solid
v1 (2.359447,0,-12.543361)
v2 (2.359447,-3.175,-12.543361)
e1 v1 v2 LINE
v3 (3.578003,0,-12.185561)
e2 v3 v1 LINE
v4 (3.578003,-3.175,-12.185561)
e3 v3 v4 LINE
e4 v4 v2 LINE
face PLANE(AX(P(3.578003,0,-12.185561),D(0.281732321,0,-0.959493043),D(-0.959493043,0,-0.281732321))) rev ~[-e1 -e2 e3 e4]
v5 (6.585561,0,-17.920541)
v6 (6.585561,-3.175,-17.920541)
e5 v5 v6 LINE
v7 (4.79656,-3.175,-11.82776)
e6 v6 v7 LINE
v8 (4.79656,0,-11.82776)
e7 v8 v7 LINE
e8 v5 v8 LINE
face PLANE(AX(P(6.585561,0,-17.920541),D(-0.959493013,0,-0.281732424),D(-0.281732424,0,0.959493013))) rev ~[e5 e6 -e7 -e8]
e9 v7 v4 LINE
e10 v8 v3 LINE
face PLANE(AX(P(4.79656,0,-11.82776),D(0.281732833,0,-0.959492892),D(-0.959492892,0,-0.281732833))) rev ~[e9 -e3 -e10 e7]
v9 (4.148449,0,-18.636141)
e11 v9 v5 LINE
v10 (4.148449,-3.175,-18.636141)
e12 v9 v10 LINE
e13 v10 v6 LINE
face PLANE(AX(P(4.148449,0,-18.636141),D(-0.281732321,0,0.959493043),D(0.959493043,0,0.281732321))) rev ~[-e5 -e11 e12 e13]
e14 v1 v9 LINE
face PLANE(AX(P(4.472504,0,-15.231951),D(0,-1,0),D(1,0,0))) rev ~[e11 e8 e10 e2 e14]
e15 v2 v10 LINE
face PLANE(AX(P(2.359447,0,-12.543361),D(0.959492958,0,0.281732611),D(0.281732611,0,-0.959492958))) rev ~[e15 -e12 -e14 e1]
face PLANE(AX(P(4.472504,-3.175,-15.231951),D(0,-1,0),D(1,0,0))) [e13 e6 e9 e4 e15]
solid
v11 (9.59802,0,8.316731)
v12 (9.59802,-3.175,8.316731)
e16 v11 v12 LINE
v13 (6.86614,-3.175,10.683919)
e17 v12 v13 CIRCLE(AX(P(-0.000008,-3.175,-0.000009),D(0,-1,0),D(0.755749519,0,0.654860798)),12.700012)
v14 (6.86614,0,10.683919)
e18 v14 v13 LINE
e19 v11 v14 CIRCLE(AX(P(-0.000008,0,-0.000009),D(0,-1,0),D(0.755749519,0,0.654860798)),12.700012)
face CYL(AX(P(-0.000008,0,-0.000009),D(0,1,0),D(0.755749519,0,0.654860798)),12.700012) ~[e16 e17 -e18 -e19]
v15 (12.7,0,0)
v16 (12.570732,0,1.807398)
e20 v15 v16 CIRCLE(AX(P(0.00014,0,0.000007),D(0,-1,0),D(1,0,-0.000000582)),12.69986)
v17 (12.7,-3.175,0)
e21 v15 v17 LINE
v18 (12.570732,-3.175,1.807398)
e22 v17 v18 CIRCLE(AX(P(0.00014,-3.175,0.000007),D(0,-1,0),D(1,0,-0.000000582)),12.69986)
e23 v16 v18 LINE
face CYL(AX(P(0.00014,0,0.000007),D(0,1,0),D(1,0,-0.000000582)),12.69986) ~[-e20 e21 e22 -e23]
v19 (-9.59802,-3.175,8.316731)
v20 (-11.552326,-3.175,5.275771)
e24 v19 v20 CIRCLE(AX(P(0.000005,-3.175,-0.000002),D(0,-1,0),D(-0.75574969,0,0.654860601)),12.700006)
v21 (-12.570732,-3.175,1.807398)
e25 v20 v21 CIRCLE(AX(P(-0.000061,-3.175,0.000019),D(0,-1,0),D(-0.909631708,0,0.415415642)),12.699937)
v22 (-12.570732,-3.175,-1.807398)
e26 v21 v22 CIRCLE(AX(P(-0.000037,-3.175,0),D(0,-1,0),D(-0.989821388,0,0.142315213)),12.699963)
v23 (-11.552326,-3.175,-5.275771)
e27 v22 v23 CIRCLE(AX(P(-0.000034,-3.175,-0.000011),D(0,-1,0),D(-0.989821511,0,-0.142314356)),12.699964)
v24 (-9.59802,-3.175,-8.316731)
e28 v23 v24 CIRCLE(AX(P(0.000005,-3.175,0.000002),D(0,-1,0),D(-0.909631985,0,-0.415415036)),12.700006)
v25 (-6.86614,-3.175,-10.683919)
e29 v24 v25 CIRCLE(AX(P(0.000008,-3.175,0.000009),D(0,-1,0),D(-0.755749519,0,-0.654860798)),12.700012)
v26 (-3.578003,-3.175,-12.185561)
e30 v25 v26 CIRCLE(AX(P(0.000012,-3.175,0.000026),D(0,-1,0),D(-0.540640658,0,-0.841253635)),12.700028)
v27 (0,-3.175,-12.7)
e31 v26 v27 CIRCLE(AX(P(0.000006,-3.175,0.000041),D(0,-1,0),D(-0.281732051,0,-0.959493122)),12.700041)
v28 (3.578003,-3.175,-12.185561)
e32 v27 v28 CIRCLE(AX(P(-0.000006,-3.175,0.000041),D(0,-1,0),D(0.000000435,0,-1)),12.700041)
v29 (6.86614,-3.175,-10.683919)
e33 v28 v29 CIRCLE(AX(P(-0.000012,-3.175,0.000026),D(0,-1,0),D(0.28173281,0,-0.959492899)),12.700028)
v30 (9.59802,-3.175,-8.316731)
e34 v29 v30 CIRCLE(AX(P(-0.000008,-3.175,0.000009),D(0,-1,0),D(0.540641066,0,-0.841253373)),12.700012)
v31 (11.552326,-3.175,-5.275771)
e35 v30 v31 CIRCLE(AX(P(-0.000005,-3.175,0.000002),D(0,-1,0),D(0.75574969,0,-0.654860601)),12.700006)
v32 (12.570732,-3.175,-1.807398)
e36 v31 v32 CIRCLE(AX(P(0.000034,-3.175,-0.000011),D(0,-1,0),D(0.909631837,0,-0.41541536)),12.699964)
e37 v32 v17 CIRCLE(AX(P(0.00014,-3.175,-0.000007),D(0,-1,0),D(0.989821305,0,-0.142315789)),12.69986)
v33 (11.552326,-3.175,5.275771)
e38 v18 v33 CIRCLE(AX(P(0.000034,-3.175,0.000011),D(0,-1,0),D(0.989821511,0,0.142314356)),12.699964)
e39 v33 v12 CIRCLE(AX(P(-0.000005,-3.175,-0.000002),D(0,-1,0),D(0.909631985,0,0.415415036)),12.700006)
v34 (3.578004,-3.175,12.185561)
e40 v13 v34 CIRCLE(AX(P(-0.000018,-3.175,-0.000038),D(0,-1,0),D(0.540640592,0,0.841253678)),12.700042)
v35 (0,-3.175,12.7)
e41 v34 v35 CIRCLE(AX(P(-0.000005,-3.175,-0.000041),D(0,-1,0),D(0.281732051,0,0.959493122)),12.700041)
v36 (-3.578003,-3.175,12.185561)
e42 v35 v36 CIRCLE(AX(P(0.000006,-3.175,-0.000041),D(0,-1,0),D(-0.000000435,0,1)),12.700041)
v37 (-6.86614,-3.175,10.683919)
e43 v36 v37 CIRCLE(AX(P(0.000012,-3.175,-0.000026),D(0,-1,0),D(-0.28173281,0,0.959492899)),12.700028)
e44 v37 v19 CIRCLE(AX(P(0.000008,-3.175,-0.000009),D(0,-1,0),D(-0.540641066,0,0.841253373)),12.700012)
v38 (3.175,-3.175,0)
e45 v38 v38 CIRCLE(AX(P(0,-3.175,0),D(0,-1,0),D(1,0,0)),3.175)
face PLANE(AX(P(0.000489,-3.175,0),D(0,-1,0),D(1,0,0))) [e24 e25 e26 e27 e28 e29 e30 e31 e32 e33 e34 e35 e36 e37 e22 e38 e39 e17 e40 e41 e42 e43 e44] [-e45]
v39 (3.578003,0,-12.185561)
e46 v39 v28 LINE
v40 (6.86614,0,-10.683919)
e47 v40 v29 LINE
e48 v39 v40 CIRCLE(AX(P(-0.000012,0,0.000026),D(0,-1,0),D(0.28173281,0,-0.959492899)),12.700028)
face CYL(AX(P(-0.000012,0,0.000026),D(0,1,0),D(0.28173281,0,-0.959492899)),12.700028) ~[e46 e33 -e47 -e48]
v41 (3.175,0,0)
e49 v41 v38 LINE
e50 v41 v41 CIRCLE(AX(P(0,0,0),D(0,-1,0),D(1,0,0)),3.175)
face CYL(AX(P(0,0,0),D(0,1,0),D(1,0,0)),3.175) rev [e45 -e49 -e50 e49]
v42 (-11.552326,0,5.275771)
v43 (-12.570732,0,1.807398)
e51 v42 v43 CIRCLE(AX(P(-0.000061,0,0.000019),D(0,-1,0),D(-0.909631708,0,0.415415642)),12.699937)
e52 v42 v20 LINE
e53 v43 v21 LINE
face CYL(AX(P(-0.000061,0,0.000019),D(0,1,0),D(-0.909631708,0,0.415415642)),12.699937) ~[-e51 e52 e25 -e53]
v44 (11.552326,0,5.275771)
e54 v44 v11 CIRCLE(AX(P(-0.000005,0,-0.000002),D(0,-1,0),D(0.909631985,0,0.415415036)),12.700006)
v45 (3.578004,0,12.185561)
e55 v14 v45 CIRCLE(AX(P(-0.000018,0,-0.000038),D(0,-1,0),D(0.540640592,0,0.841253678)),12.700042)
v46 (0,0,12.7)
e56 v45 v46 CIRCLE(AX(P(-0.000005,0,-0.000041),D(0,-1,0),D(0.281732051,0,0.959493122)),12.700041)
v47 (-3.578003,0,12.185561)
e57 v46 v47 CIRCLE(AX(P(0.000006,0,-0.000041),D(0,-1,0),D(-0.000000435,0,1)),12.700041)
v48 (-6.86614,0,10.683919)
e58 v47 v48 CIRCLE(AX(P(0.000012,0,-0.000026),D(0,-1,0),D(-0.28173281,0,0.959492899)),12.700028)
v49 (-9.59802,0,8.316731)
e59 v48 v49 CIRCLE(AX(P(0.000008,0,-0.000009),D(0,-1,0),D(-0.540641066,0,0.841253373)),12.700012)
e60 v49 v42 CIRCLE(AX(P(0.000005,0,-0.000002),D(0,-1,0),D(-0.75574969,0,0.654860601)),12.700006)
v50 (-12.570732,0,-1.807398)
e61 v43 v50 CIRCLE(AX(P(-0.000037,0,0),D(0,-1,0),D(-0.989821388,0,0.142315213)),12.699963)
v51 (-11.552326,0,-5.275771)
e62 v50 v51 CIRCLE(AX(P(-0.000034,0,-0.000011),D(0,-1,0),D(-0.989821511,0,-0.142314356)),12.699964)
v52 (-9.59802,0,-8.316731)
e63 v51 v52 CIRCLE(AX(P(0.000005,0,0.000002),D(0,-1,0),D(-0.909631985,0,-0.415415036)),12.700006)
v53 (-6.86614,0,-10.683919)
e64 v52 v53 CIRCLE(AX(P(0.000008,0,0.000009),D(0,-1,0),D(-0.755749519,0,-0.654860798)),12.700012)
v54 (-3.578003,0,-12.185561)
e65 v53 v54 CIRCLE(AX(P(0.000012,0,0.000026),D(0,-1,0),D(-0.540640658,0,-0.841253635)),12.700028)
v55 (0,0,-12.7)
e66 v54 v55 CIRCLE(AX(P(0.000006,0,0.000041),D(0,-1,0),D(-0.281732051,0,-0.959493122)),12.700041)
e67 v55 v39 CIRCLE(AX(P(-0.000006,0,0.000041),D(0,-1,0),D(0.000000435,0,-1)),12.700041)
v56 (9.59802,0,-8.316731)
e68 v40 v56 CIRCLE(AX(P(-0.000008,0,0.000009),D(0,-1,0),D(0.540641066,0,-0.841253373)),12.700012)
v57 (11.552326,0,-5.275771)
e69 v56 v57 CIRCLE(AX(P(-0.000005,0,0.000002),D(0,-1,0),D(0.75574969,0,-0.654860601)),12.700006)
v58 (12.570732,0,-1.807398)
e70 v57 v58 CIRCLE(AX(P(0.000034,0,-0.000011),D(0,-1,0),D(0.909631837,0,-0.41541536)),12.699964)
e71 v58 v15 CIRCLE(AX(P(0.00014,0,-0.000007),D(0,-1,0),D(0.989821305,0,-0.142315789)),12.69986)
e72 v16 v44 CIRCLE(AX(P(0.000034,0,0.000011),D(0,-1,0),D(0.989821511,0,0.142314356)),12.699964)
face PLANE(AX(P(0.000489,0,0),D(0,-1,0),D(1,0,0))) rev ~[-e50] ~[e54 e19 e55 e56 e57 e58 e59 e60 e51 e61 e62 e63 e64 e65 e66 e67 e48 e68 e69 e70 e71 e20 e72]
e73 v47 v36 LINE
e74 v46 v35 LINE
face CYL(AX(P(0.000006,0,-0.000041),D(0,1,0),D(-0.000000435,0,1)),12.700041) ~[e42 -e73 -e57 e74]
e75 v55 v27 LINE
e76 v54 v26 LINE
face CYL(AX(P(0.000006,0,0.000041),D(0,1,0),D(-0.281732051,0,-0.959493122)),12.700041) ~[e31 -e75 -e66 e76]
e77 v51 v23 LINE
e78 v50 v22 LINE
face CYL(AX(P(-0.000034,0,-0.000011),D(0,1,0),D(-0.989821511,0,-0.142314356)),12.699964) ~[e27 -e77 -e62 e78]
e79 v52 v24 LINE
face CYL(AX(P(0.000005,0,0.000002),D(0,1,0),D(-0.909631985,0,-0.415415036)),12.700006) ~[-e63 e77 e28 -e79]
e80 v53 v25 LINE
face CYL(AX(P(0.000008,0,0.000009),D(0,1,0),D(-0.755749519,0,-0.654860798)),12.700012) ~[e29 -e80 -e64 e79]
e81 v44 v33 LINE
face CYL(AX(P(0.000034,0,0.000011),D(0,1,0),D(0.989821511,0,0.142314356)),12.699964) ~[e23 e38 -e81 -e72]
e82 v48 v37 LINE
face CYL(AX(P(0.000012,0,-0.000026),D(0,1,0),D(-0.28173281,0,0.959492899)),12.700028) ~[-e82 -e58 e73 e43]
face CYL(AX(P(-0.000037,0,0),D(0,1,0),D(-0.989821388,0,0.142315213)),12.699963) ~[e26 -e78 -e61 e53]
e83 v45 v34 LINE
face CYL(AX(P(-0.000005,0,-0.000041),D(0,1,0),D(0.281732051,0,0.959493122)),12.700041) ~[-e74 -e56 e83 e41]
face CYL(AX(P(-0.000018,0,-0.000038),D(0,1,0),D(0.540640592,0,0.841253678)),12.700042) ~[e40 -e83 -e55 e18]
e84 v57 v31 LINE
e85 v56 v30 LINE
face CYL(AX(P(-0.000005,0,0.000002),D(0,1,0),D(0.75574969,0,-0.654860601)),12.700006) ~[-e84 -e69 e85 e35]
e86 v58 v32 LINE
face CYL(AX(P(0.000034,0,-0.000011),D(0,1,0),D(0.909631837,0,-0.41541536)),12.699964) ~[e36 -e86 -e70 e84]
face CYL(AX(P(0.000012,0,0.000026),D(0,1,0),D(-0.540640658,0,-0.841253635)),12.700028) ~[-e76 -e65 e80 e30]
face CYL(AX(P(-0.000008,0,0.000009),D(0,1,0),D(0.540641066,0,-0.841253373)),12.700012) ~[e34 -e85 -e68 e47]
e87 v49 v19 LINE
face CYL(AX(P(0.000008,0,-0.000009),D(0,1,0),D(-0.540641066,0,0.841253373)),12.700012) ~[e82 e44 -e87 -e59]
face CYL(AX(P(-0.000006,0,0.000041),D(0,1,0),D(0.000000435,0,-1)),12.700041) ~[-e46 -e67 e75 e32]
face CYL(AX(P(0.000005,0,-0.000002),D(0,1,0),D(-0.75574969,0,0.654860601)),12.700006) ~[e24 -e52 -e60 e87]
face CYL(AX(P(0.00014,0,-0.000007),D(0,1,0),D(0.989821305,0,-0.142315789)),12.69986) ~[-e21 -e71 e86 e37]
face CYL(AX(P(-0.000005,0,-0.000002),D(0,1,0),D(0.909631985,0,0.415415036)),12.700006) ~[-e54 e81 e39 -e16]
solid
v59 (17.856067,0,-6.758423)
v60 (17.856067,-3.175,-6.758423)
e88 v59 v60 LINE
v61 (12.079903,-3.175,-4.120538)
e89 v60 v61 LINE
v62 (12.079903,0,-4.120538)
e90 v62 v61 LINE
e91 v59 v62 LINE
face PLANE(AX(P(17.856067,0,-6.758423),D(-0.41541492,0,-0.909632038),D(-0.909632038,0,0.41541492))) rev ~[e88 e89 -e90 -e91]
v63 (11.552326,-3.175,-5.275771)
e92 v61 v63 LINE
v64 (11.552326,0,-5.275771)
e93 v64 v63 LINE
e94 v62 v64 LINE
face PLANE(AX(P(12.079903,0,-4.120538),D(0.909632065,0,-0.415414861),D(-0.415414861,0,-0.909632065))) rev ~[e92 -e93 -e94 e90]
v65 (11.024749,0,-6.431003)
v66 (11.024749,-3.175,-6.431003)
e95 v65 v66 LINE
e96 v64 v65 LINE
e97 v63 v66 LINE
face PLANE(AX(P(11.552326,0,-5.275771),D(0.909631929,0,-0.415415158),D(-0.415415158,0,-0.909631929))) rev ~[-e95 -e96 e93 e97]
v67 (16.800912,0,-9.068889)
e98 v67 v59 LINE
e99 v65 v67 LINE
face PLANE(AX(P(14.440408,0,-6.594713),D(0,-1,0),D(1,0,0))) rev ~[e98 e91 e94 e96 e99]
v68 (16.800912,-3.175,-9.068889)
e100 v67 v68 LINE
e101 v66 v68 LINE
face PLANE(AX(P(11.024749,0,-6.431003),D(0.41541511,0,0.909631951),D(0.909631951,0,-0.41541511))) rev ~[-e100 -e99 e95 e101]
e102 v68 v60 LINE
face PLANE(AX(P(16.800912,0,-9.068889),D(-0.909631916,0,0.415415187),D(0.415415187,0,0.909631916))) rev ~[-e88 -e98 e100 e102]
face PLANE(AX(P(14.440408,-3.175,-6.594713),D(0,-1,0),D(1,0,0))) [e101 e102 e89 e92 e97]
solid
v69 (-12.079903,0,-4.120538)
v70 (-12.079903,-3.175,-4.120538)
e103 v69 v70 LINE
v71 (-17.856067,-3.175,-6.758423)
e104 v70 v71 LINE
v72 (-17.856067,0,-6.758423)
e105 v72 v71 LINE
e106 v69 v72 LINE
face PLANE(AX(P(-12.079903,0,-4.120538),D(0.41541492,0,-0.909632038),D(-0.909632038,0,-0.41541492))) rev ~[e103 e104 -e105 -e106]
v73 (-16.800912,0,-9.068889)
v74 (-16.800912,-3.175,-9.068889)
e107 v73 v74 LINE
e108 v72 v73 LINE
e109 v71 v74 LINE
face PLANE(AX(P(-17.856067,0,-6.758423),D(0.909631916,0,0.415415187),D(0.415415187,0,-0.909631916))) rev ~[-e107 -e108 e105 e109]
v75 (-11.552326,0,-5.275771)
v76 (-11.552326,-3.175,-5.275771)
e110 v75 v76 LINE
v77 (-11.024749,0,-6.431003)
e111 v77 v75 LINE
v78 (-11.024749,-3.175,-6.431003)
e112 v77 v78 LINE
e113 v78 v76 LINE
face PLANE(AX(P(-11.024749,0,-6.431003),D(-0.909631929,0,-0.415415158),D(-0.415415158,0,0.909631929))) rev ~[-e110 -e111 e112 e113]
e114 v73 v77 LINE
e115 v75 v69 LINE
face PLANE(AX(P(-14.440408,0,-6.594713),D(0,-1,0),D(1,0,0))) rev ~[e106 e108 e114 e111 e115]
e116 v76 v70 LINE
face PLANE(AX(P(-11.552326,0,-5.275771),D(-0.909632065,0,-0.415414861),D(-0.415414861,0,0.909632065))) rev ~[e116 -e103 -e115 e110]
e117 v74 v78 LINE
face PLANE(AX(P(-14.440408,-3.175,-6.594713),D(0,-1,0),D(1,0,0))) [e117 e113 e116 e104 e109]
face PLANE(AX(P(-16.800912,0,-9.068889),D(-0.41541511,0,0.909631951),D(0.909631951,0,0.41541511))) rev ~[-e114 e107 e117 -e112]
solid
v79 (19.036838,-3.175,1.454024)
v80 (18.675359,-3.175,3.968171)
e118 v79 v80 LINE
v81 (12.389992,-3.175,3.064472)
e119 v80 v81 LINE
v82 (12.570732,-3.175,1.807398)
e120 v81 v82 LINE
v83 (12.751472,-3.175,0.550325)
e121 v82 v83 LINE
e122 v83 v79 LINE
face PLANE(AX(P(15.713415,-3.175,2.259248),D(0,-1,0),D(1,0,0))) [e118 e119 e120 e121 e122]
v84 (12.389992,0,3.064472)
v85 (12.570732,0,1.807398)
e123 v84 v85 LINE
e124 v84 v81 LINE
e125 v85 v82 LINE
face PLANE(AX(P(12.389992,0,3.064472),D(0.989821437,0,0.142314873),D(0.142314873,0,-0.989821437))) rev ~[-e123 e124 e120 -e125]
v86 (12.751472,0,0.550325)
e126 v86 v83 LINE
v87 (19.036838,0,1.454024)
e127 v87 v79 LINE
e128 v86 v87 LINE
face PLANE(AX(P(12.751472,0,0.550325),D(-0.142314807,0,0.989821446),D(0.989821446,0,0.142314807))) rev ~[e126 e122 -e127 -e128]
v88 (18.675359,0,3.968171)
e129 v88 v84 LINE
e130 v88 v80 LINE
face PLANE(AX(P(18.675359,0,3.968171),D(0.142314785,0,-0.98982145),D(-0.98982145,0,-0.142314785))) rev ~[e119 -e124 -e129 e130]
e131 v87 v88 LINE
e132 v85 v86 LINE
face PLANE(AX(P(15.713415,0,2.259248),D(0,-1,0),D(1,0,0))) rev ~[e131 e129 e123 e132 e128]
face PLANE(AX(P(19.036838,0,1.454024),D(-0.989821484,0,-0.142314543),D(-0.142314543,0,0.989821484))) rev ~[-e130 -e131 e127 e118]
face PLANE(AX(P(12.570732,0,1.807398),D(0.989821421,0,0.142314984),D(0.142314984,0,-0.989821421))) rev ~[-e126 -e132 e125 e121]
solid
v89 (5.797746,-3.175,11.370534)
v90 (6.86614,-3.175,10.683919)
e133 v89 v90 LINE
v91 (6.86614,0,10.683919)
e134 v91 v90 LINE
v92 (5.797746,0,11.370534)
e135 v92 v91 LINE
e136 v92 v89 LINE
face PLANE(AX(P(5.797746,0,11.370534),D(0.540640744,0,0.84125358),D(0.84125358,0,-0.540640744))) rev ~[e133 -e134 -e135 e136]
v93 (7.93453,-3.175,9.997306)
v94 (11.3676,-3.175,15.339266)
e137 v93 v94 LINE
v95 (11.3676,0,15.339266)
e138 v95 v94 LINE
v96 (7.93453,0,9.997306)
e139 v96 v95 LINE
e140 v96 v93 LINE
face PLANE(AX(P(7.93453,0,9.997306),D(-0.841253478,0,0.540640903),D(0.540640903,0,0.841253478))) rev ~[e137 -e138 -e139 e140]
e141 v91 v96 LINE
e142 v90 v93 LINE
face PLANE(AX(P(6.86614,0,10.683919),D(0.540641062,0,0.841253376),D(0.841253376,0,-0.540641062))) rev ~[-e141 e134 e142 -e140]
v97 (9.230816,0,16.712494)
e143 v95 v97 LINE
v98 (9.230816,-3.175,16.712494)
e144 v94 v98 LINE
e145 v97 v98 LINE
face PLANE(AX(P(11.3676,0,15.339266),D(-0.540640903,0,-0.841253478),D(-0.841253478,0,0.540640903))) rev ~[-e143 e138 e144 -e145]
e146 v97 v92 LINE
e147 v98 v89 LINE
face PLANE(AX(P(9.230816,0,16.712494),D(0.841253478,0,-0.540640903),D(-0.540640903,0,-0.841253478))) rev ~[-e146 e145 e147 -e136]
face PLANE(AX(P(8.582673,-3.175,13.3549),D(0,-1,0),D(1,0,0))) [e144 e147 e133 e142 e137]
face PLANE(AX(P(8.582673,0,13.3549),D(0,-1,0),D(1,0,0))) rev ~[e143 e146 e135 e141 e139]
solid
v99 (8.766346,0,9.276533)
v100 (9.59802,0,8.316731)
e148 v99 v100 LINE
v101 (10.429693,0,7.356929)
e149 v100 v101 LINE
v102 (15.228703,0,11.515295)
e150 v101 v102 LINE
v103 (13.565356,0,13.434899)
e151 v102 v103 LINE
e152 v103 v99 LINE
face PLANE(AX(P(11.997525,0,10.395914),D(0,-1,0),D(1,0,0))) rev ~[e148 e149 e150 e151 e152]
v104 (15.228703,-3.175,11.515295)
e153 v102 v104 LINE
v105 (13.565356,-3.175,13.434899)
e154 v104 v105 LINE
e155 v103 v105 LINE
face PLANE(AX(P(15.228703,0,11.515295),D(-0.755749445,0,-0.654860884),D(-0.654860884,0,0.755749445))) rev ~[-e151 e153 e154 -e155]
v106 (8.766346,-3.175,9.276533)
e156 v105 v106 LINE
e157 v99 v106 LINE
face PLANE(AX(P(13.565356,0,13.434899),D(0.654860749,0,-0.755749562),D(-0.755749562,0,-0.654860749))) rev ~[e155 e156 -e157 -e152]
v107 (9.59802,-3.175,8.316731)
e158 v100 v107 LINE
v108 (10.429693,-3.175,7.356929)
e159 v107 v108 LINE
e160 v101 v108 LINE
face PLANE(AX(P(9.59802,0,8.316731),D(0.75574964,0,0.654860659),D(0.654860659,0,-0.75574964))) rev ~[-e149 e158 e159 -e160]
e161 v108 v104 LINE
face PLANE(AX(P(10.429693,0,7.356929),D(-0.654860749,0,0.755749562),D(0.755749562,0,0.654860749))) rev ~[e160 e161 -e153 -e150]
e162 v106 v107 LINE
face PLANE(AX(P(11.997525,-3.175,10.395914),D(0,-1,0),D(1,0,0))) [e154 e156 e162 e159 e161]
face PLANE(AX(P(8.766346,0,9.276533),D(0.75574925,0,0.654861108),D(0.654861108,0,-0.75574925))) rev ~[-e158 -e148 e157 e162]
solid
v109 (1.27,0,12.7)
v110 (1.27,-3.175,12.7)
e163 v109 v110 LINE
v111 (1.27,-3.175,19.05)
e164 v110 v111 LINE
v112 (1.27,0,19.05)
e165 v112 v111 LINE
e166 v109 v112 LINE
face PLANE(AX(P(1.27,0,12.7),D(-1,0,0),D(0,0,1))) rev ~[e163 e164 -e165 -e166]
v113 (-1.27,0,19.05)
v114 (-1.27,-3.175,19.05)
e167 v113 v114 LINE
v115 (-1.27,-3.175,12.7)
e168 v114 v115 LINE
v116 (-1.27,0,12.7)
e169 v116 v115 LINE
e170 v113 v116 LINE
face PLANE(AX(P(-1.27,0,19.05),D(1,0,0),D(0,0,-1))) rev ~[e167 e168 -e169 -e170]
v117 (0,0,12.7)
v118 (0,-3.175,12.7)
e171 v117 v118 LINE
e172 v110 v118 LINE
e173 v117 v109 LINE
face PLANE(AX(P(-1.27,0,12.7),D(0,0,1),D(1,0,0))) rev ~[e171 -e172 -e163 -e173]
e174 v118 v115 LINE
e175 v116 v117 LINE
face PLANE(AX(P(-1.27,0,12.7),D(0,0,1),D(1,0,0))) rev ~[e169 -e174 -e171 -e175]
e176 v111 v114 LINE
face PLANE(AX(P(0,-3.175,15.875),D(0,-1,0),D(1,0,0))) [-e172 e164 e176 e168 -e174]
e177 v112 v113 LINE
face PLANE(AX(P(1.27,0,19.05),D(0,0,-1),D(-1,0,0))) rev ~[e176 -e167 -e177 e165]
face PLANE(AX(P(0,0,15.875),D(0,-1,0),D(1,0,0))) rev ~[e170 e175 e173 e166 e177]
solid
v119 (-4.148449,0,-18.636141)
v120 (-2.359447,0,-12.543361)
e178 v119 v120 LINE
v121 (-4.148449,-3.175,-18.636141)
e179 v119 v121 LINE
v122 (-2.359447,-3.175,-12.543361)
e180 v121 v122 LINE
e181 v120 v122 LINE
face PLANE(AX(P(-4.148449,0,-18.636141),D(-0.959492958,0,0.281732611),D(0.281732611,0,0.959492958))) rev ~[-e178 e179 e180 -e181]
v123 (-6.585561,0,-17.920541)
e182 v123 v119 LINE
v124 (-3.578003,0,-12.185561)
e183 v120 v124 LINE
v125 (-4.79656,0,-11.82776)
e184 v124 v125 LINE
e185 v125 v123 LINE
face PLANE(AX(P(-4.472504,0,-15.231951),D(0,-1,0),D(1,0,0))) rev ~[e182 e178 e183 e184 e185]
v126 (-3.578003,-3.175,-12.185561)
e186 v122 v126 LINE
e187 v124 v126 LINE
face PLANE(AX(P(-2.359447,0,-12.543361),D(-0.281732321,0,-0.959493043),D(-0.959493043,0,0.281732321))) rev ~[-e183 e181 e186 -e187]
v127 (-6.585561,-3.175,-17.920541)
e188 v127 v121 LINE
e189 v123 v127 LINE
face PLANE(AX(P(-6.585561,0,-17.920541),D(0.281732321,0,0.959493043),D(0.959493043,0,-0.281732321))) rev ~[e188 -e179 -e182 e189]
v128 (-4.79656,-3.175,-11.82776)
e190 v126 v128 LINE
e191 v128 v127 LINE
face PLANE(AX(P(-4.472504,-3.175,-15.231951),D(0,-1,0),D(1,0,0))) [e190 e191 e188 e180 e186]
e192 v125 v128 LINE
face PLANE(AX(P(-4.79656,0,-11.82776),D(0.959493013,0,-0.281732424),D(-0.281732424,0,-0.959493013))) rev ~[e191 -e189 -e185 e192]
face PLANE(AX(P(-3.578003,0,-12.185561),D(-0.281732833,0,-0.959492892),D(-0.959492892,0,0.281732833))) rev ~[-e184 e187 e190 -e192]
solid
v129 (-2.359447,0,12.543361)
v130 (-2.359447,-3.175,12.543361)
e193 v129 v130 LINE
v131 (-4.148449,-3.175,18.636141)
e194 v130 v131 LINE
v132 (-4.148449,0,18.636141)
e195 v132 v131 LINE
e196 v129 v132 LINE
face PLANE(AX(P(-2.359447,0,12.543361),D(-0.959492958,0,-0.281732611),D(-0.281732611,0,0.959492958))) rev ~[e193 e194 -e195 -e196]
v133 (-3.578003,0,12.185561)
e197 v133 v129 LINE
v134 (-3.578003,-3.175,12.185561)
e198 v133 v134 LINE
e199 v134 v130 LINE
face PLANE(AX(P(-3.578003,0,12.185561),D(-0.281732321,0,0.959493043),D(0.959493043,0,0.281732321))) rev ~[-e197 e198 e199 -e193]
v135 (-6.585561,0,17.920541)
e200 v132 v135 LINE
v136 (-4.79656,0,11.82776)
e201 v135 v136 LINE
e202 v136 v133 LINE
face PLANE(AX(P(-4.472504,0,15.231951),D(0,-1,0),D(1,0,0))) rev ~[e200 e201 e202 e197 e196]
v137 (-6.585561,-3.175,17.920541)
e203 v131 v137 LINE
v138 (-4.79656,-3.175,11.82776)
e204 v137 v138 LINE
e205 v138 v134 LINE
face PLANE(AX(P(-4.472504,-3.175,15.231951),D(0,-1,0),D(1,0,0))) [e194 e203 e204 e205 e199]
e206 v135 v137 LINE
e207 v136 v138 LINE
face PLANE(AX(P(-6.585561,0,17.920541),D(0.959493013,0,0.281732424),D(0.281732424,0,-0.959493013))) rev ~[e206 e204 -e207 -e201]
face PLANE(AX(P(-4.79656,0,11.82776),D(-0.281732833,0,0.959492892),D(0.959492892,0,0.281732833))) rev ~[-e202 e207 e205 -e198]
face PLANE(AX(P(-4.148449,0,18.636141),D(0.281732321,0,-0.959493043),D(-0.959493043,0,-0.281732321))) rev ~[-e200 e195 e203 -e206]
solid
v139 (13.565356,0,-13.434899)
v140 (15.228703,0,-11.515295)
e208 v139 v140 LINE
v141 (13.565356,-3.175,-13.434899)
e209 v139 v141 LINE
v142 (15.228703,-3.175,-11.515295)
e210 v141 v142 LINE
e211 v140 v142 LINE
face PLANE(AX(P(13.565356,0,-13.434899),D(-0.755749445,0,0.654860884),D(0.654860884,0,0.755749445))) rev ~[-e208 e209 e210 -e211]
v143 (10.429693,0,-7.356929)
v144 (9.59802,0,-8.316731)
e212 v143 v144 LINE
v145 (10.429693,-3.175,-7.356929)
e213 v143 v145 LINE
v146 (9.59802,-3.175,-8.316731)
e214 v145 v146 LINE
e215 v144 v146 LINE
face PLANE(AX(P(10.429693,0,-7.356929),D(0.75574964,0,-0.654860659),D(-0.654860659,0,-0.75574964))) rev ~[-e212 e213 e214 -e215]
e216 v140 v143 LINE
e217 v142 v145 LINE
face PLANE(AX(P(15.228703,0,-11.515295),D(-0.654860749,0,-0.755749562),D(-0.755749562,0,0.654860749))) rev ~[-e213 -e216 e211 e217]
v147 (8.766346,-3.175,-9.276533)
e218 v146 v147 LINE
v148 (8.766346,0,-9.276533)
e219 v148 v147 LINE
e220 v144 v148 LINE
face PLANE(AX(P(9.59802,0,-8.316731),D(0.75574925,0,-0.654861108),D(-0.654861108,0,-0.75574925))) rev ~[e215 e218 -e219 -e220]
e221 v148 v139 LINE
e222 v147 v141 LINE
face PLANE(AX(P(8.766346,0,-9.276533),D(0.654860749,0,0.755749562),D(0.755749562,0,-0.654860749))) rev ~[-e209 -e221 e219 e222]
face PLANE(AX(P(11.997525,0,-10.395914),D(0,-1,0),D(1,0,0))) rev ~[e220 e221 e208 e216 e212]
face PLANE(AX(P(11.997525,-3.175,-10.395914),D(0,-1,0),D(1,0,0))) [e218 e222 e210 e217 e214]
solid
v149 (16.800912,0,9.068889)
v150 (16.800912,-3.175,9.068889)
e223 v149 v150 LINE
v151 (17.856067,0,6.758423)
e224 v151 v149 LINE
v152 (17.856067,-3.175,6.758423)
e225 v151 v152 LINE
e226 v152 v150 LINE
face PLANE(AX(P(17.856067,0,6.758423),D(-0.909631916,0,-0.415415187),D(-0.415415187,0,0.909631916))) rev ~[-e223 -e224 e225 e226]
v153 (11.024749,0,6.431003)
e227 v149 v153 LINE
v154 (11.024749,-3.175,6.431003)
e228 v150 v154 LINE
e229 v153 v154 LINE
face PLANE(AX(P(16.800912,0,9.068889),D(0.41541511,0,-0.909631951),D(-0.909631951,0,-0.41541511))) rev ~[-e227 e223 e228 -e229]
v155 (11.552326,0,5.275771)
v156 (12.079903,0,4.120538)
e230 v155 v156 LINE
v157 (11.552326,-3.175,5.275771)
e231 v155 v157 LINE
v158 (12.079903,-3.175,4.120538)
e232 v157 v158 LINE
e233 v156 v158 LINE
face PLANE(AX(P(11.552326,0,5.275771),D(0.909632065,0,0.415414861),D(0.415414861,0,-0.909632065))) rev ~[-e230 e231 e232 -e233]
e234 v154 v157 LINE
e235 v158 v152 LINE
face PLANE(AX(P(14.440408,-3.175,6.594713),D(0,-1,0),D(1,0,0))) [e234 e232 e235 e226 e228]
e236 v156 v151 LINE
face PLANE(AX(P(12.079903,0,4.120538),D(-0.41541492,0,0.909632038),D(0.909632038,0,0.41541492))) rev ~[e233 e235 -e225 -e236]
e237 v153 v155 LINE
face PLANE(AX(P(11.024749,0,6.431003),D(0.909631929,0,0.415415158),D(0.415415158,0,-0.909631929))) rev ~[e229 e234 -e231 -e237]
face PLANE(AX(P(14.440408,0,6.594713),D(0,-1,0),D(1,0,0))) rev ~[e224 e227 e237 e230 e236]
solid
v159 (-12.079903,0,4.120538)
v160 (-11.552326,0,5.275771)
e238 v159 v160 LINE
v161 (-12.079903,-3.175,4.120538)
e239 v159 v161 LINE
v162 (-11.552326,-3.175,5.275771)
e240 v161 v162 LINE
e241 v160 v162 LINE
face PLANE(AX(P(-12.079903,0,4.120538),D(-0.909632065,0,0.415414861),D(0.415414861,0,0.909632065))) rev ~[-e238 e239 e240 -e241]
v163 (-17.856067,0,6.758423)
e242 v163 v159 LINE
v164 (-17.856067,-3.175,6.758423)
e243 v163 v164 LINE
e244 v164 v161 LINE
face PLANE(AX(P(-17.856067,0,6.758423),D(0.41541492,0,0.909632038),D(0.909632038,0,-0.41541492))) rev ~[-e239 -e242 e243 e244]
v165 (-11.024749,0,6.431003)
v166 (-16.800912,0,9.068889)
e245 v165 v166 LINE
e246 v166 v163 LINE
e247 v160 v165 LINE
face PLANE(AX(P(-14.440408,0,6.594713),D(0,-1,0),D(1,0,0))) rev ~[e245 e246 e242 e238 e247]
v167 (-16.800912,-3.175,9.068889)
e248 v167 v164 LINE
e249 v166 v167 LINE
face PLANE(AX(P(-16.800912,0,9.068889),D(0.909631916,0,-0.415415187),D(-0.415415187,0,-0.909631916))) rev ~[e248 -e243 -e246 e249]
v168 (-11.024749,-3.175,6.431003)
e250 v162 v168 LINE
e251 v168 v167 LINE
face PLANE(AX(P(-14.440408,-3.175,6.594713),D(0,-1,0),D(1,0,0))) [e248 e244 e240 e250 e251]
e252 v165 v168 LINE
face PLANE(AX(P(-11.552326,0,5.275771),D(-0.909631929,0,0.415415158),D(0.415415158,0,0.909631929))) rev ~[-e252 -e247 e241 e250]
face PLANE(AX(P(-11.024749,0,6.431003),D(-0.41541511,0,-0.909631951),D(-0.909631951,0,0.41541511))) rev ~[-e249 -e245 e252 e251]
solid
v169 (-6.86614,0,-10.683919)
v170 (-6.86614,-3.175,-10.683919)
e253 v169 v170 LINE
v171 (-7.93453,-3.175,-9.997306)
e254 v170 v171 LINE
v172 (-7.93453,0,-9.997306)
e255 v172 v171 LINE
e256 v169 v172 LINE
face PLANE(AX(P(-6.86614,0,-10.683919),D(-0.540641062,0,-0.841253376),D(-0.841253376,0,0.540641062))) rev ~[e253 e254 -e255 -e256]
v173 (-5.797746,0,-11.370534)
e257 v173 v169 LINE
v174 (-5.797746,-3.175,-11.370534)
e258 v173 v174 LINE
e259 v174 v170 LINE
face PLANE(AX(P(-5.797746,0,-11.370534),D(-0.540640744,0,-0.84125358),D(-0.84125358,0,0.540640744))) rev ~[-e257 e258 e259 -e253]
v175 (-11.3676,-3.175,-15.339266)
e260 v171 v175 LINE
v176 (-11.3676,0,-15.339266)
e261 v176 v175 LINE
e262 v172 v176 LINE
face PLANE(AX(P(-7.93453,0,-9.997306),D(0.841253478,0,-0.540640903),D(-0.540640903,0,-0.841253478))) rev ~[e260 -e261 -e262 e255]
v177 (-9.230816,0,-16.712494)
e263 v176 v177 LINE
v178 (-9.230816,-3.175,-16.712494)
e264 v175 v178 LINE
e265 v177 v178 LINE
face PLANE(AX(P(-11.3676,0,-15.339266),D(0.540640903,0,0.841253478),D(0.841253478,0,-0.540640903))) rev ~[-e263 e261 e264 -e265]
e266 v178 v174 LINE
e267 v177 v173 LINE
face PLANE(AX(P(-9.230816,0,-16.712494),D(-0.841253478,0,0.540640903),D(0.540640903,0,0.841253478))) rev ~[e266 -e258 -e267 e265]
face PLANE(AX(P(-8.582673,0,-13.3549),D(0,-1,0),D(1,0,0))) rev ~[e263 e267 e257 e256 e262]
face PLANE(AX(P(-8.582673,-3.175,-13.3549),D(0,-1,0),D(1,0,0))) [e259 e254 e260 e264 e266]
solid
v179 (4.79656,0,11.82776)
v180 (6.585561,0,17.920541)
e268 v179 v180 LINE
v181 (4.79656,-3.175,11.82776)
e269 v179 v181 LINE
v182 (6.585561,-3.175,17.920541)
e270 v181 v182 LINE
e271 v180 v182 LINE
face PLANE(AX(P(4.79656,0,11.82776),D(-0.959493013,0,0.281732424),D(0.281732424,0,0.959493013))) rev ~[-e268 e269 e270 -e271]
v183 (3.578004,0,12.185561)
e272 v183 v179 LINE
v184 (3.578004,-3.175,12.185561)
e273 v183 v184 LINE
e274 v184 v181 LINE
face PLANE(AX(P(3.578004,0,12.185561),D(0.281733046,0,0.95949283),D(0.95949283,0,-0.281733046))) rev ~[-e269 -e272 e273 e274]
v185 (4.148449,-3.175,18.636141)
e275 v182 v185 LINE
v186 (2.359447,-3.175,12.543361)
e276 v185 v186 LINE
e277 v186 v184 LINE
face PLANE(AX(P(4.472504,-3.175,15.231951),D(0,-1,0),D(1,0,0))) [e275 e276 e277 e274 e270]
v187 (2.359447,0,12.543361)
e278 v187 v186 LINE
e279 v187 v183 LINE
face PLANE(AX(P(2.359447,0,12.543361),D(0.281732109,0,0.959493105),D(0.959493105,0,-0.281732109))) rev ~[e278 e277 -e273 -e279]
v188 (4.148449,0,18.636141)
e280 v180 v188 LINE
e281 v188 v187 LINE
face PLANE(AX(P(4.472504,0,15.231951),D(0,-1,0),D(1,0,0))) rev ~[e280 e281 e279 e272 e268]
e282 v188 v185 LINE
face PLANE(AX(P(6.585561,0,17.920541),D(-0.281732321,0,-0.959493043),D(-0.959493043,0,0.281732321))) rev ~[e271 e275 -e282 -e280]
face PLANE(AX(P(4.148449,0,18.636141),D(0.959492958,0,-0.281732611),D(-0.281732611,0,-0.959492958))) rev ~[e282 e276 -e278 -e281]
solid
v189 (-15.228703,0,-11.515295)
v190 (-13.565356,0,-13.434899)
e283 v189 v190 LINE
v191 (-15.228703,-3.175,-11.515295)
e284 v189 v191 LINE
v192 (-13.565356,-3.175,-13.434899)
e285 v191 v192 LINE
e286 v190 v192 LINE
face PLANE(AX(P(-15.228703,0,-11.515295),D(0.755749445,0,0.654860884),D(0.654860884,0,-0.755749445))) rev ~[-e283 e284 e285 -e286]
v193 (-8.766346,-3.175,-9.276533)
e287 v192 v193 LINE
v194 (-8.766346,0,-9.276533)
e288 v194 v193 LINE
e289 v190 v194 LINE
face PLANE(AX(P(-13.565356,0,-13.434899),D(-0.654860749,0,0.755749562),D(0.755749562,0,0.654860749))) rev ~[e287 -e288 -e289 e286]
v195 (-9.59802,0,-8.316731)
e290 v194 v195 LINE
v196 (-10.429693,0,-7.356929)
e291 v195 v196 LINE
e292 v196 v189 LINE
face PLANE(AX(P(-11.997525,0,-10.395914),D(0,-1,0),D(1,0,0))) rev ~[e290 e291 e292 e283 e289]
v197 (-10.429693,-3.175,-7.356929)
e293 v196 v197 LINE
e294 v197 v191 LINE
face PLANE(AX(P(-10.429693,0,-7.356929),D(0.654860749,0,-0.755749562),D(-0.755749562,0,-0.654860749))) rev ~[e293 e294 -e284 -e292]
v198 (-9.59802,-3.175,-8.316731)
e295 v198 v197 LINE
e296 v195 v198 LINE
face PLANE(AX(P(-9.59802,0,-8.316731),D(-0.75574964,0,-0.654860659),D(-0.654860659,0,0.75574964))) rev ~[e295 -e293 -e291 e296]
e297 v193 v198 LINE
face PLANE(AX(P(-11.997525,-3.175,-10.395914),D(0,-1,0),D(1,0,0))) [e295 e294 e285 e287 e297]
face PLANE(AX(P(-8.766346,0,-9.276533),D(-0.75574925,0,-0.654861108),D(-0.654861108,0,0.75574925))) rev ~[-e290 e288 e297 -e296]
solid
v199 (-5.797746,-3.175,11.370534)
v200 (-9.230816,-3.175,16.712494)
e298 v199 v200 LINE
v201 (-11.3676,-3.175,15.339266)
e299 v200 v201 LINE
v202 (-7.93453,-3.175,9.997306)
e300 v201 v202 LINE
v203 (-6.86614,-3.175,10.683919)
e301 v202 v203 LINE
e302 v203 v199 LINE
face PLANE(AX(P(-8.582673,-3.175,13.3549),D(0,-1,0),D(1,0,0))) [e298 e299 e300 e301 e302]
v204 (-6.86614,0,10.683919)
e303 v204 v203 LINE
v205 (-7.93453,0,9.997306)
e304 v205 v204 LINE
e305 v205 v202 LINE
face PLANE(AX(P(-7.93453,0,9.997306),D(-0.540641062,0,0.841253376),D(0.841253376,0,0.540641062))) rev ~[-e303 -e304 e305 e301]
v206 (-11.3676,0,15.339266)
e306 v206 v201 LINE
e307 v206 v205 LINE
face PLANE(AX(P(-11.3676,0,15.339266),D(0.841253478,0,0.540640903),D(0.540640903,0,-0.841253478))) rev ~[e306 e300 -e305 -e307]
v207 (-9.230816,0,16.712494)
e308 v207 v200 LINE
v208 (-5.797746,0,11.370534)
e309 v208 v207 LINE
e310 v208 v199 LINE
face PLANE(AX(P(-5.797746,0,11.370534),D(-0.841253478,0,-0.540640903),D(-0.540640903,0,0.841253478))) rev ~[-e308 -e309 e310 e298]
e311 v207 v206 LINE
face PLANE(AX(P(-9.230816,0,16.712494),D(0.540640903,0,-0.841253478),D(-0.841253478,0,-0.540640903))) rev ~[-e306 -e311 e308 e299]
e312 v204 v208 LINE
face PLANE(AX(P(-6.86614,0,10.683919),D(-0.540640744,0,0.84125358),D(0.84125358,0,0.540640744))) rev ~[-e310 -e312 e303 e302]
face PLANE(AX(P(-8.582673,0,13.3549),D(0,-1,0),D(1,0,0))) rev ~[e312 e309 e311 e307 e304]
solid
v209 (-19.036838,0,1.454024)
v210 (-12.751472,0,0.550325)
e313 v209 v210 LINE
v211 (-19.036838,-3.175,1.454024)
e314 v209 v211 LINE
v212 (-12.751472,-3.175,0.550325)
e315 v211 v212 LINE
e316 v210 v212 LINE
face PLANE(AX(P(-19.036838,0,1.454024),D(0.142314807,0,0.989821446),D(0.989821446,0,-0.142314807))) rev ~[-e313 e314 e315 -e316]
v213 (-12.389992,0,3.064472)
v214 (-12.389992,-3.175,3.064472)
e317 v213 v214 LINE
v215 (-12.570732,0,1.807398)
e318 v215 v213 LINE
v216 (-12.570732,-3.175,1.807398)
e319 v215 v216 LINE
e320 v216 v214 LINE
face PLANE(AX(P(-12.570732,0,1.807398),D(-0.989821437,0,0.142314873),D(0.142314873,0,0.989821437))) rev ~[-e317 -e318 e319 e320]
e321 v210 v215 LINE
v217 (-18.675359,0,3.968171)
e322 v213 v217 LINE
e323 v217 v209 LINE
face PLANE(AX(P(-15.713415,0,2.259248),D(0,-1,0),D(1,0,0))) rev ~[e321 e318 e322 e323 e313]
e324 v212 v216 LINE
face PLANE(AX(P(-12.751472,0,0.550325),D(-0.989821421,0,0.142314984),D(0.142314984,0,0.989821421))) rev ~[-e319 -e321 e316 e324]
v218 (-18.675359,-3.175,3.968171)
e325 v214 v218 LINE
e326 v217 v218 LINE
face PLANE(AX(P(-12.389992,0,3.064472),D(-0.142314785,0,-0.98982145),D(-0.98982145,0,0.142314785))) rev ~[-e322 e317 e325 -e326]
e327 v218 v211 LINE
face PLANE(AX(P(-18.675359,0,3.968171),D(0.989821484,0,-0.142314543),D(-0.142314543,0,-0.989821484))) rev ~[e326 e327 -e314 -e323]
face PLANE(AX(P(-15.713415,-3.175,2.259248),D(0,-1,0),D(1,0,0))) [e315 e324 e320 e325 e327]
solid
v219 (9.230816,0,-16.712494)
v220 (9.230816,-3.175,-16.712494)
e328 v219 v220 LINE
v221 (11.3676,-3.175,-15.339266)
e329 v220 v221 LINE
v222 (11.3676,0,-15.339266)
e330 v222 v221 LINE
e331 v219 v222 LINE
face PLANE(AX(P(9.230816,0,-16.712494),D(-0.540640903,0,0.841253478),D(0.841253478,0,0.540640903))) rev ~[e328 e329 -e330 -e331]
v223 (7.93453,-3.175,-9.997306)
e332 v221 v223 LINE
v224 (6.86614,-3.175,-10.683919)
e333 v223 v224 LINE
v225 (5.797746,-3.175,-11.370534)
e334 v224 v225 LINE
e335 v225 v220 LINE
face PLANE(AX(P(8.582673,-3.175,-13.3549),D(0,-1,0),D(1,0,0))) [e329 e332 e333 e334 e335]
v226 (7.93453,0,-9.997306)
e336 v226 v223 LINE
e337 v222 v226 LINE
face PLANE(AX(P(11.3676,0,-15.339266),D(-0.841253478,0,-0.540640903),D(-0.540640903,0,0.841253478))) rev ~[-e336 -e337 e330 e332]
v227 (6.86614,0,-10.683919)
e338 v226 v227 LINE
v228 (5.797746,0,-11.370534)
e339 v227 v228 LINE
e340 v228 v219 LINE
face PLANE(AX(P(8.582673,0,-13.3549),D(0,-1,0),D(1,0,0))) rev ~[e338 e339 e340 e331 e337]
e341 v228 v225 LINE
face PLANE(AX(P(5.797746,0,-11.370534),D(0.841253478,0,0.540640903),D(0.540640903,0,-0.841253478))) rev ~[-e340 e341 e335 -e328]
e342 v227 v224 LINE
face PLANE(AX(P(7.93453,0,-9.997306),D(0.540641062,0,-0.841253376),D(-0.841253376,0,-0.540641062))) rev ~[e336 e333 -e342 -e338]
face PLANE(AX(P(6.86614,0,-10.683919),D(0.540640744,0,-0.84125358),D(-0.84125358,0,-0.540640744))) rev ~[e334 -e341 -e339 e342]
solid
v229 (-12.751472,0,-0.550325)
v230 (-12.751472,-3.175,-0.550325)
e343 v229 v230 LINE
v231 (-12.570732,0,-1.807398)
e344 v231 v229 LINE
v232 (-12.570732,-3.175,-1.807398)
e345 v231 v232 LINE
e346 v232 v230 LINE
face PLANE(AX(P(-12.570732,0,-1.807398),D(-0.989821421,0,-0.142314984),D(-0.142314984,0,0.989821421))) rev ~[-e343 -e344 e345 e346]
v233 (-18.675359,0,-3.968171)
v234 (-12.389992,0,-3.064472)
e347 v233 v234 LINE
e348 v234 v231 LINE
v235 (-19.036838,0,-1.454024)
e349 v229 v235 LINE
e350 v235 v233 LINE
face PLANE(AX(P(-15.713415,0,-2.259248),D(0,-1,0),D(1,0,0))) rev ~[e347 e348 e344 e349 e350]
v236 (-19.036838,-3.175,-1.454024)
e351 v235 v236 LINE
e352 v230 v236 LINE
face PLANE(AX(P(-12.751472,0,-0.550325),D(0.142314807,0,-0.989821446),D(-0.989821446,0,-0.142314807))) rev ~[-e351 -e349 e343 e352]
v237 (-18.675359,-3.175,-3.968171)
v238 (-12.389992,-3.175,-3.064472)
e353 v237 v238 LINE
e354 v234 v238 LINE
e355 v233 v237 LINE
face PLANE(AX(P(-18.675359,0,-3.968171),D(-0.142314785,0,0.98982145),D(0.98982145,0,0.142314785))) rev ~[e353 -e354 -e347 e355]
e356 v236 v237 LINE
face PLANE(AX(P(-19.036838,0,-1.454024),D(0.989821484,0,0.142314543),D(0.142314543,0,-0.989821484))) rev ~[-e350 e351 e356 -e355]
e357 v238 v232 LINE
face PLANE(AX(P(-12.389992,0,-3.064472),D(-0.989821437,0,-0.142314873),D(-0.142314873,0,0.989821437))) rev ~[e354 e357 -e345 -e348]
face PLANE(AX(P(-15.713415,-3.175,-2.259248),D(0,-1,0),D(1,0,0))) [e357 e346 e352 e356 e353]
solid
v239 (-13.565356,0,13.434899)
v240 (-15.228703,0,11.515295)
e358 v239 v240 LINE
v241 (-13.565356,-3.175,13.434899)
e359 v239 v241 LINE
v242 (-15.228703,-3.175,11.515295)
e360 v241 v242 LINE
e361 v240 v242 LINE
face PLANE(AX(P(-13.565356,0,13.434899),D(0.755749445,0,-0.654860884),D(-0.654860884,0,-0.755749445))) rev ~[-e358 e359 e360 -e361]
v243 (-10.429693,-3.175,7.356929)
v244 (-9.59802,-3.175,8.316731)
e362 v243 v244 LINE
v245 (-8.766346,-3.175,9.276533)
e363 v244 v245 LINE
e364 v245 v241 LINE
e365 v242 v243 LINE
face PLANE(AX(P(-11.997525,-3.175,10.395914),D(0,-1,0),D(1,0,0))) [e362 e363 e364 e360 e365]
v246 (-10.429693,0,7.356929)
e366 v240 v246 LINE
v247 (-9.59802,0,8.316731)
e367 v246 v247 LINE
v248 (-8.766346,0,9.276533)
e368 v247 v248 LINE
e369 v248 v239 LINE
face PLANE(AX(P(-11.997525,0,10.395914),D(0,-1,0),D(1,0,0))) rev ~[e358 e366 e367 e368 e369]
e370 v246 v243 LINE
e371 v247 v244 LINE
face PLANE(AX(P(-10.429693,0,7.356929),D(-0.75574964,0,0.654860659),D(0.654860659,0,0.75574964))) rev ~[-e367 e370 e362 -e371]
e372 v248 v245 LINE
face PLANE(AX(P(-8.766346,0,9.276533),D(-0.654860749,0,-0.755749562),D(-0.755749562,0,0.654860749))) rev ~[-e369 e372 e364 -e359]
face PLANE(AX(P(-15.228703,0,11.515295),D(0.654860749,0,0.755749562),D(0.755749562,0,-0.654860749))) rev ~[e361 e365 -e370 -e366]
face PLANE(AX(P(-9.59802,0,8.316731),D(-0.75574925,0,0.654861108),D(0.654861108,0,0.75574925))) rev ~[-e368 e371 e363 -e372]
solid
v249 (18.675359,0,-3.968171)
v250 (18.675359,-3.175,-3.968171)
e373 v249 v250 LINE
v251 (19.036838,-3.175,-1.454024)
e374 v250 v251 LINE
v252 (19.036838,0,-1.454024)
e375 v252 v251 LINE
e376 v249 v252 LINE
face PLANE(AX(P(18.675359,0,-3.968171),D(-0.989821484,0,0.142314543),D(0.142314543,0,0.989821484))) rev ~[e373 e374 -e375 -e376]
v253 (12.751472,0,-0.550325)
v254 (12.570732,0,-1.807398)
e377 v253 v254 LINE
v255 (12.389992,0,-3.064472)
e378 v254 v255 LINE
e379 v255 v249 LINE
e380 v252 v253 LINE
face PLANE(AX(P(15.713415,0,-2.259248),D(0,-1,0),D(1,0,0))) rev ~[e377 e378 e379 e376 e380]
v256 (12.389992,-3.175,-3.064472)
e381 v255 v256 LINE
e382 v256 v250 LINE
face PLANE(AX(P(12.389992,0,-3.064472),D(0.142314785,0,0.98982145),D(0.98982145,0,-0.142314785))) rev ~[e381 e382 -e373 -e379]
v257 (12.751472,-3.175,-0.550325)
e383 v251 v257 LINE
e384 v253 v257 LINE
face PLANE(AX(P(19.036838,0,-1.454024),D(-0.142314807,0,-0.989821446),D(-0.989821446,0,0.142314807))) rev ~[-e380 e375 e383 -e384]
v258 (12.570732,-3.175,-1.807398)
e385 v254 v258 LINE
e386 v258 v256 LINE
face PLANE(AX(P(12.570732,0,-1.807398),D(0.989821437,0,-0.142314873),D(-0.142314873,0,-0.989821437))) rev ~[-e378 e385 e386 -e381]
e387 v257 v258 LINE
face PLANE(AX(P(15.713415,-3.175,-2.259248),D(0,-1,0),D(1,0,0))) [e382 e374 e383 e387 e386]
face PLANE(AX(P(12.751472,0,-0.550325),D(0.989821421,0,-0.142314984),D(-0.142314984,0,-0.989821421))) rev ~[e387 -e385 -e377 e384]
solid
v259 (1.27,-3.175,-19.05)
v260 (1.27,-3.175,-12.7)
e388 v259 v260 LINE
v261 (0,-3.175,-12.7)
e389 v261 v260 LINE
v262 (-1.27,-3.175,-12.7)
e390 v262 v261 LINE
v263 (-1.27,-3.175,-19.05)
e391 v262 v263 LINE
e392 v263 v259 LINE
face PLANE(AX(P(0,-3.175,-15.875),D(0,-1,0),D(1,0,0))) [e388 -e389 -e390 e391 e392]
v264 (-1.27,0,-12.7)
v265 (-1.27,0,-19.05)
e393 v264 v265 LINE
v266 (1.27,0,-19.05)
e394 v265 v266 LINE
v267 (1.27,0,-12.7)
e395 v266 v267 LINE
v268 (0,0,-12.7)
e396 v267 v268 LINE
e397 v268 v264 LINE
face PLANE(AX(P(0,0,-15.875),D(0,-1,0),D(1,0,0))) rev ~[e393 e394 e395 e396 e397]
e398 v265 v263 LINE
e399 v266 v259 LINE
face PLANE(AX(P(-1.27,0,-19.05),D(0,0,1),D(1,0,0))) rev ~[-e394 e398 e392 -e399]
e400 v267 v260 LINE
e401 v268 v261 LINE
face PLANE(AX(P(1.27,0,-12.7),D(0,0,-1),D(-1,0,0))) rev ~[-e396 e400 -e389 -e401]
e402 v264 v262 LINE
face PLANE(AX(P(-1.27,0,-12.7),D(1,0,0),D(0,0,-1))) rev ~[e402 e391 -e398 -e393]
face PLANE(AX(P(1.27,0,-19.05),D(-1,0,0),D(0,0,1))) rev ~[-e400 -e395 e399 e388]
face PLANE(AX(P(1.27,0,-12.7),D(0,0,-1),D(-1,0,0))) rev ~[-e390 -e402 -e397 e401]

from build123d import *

# Parameters (mm, degrees)
F0_R     = 3.175
F1_DEPTH = 3.175


with BuildPart() as f1:
    # F0 (on Front) → F1 (new body)
    with BuildSketch(Plane.XZ):
        with BuildLine():
            ThreePointArc((12.570732, -1.807398), (12.667642, -0.906008), (12.7, 0))
            ThreePointArc((12.7, 0), (12.667642, 0.906008), (12.570732, 1.807398))
            ThreePointArc((12.570732, 1.807398), (12.185561, 3.578003), (11.552326, 5.275771))
            ThreePointArc((11.552326, 5.275771), (10.68392, 6.866138), (9.59802, 8.316731))
            ThreePointArc((9.59802, 8.316731), (8.316732, 9.598019), (6.86614, 10.683919))
            ThreePointArc((6.86614, 10.683919), (5.275771, 11.552326), (3.578004, 12.185561))
            ThreePointArc((3.578004, 12.185561), (1.807399, 12.570732), (0, 12.7))
            ThreePointArc((0, 12.7), (-1.807398, 12.570732), (-3.578003, 12.185561))
            ThreePointArc((-3.578003, 12.185561), (-5.275771, 11.552326), (-6.86614, 10.683919))
            ThreePointArc((-6.86614, 10.683919), (-8.316732, 9.598019), (-9.59802, 8.316731))
            ThreePointArc((-9.59802, 8.316731), (-10.68392, 6.866138), (-11.552326, 5.275771))
            ThreePointArc((-11.552326, 5.275771), (-12.185561, 3.578004), (-12.570732, 1.807398))
            ThreePointArc((-12.570732, 1.807398), (-12.7, 0), (-12.570732, -1.807398))
            ThreePointArc((-12.570732, -1.807398), (-12.185561, -3.578003), (-11.552326, -5.275771))
            ThreePointArc((-11.552326, -5.275771), (-10.68392, -6.866138), (-9.59802, -8.316731))
            ThreePointArc((-9.59802, -8.316731), (-8.316732, -9.598019), (-6.86614, -10.683919))
            ThreePointArc((-6.86614, -10.683919), (-5.275771, -11.552326), (-3.578003, -12.185561))
            ThreePointArc((-3.578003, -12.185561), (-1.807398, -12.570732), (0, -12.7))
            ThreePointArc((0, -12.7), (1.807398, -12.570732), (3.578003, -12.185561))
            ThreePointArc((3.578003, -12.185561), (5.275771, -11.552326), (6.86614, -10.683919))
            ThreePointArc((6.86614, -10.683919), (8.316732, -9.598019), (9.59802, -8.316731))
            ThreePointArc((9.59802, -8.316731), (10.68392, -6.866138), (11.552326, -5.275771))
            ThreePointArc((11.552326, -5.275771), (12.185561, -3.578003), (12.570732, -1.807398))
        make_face()
        Circle(F0_R, mode=Mode.SUBTRACT)
        Polygon((12.751472, -0.550325), (12.570732, -1.807398), (12.389992, -3.064472), (18.675359, -3.968171), (19.036838, -1.454024), align=None)
        Polygon((12.079903, -4.120538), (11.552326, -5.275771), (11.024749, -6.431003), (16.800912, -9.068889), (17.856067, -6.758423), align=None)
        Polygon((10.429693, -7.356929), (9.59802, -8.316731), (8.766346, -9.276533), (13.565356, -13.434899), (15.228703, -11.515295), align=None)
        Polygon((7.93453, -9.997306), (6.86614, -10.683919), (5.797746, -11.370534), (9.230816, -16.712494), (11.3676, -15.339266), align=None)
        Polygon((4.79656, -11.82776), (3.578003, -12.185561), (2.359447, -12.543361), (4.148449, -18.636141), (6.585561, -17.920541), align=None)
        Polygon((1.27, -12.7), (0, -12.7), (-1.27, -12.7), (-1.27, -19.05), (1.27, -19.05), align=None)
        Polygon((-2.359447, -12.543361), (-3.578003, -12.185561), (-4.79656, -11.82776), (-6.585561, -17.920541), (-4.148449, -18.636141), align=None)
        Polygon((-5.797746, -11.370534), (-6.86614, -10.683919), (-7.93453, -9.997306), (-11.3676, -15.339266), (-9.230816, -16.712494), align=None)
        Polygon((-8.766346, -9.276533), (-9.59802, -8.316731), (-10.429693, -7.356929), (-15.228703, -11.515295), (-13.565356, -13.434899), align=None)
        Polygon((-11.024749, -6.431003), (-11.552326, -5.275771), (-12.079903, -4.120538), (-17.856067, -6.758423), (-16.800912, -9.068889), align=None)
        Polygon((-12.389992, -3.064472), (-12.570732, -1.807398), (-12.751472, -0.550325), (-19.036838, -1.454024), (-18.675359, -3.968171), align=None)
        Polygon((-12.751472, 0.550325), (-12.570732, 1.807398), (-12.389992, 3.064472), (-18.675359, 3.968171), (-19.036838, 1.454024), align=None)
        Polygon((-12.079903, 4.120538), (-11.552326, 5.275771), (-11.024749, 6.431003), (-16.800912, 9.068889), (-17.856067, 6.758423), align=None)
        Polygon((-10.429693, 7.356929), (-9.59802, 8.316731), (-8.766346, 9.276533), (-13.565356, 13.434899), (-15.228703, 11.515295), align=None)
        Polygon((-7.93453, 9.997306), (-6.86614, 10.683919), (-5.797746, 11.370534), (-9.230816, 16.712494), (-11.3676, 15.339266), align=None)
        Polygon((-4.79656, 11.82776), (-3.578003, 12.185561), (-2.359447, 12.543361), (-4.148449, 18.636141), (-6.585561, 17.920541), align=None)
        Polygon((-1.27, 12.7), (0, 12.7), (1.27, 12.7), (1.27, 19.05), (-1.27, 19.05), align=None)
        Polygon((2.359447, 12.543361), (3.578004, 12.185561), (4.79656, 11.82776), (6.585561, 17.920541), (4.148449, 18.636141), align=None)
        Polygon((5.797746, 11.370534), (6.86614, 10.683919), (7.93453, 9.997306), (11.3676, 15.339266), (9.230816, 16.712494), align=None)
        Polygon((8.766346, 9.276533), (9.59802, 8.316731), (10.429693, 7.356929), (15.228703, 11.515295), (13.565356, 13.434899), align=None)
        Polygon((11.024749, 6.431003), (11.552326, 5.275771), (12.079903, 4.120538), (17.856067, 6.758423), (16.800912, 9.068889), align=None)
        Polygon((12.389992, 3.064472), (12.570732, 1.807398), (12.751472, 0.550325), (19.036838, 1.454024), (18.675359, 3.968171), align=None)
    extrude(amount=F1_DEPTH)


solid = f1.part
